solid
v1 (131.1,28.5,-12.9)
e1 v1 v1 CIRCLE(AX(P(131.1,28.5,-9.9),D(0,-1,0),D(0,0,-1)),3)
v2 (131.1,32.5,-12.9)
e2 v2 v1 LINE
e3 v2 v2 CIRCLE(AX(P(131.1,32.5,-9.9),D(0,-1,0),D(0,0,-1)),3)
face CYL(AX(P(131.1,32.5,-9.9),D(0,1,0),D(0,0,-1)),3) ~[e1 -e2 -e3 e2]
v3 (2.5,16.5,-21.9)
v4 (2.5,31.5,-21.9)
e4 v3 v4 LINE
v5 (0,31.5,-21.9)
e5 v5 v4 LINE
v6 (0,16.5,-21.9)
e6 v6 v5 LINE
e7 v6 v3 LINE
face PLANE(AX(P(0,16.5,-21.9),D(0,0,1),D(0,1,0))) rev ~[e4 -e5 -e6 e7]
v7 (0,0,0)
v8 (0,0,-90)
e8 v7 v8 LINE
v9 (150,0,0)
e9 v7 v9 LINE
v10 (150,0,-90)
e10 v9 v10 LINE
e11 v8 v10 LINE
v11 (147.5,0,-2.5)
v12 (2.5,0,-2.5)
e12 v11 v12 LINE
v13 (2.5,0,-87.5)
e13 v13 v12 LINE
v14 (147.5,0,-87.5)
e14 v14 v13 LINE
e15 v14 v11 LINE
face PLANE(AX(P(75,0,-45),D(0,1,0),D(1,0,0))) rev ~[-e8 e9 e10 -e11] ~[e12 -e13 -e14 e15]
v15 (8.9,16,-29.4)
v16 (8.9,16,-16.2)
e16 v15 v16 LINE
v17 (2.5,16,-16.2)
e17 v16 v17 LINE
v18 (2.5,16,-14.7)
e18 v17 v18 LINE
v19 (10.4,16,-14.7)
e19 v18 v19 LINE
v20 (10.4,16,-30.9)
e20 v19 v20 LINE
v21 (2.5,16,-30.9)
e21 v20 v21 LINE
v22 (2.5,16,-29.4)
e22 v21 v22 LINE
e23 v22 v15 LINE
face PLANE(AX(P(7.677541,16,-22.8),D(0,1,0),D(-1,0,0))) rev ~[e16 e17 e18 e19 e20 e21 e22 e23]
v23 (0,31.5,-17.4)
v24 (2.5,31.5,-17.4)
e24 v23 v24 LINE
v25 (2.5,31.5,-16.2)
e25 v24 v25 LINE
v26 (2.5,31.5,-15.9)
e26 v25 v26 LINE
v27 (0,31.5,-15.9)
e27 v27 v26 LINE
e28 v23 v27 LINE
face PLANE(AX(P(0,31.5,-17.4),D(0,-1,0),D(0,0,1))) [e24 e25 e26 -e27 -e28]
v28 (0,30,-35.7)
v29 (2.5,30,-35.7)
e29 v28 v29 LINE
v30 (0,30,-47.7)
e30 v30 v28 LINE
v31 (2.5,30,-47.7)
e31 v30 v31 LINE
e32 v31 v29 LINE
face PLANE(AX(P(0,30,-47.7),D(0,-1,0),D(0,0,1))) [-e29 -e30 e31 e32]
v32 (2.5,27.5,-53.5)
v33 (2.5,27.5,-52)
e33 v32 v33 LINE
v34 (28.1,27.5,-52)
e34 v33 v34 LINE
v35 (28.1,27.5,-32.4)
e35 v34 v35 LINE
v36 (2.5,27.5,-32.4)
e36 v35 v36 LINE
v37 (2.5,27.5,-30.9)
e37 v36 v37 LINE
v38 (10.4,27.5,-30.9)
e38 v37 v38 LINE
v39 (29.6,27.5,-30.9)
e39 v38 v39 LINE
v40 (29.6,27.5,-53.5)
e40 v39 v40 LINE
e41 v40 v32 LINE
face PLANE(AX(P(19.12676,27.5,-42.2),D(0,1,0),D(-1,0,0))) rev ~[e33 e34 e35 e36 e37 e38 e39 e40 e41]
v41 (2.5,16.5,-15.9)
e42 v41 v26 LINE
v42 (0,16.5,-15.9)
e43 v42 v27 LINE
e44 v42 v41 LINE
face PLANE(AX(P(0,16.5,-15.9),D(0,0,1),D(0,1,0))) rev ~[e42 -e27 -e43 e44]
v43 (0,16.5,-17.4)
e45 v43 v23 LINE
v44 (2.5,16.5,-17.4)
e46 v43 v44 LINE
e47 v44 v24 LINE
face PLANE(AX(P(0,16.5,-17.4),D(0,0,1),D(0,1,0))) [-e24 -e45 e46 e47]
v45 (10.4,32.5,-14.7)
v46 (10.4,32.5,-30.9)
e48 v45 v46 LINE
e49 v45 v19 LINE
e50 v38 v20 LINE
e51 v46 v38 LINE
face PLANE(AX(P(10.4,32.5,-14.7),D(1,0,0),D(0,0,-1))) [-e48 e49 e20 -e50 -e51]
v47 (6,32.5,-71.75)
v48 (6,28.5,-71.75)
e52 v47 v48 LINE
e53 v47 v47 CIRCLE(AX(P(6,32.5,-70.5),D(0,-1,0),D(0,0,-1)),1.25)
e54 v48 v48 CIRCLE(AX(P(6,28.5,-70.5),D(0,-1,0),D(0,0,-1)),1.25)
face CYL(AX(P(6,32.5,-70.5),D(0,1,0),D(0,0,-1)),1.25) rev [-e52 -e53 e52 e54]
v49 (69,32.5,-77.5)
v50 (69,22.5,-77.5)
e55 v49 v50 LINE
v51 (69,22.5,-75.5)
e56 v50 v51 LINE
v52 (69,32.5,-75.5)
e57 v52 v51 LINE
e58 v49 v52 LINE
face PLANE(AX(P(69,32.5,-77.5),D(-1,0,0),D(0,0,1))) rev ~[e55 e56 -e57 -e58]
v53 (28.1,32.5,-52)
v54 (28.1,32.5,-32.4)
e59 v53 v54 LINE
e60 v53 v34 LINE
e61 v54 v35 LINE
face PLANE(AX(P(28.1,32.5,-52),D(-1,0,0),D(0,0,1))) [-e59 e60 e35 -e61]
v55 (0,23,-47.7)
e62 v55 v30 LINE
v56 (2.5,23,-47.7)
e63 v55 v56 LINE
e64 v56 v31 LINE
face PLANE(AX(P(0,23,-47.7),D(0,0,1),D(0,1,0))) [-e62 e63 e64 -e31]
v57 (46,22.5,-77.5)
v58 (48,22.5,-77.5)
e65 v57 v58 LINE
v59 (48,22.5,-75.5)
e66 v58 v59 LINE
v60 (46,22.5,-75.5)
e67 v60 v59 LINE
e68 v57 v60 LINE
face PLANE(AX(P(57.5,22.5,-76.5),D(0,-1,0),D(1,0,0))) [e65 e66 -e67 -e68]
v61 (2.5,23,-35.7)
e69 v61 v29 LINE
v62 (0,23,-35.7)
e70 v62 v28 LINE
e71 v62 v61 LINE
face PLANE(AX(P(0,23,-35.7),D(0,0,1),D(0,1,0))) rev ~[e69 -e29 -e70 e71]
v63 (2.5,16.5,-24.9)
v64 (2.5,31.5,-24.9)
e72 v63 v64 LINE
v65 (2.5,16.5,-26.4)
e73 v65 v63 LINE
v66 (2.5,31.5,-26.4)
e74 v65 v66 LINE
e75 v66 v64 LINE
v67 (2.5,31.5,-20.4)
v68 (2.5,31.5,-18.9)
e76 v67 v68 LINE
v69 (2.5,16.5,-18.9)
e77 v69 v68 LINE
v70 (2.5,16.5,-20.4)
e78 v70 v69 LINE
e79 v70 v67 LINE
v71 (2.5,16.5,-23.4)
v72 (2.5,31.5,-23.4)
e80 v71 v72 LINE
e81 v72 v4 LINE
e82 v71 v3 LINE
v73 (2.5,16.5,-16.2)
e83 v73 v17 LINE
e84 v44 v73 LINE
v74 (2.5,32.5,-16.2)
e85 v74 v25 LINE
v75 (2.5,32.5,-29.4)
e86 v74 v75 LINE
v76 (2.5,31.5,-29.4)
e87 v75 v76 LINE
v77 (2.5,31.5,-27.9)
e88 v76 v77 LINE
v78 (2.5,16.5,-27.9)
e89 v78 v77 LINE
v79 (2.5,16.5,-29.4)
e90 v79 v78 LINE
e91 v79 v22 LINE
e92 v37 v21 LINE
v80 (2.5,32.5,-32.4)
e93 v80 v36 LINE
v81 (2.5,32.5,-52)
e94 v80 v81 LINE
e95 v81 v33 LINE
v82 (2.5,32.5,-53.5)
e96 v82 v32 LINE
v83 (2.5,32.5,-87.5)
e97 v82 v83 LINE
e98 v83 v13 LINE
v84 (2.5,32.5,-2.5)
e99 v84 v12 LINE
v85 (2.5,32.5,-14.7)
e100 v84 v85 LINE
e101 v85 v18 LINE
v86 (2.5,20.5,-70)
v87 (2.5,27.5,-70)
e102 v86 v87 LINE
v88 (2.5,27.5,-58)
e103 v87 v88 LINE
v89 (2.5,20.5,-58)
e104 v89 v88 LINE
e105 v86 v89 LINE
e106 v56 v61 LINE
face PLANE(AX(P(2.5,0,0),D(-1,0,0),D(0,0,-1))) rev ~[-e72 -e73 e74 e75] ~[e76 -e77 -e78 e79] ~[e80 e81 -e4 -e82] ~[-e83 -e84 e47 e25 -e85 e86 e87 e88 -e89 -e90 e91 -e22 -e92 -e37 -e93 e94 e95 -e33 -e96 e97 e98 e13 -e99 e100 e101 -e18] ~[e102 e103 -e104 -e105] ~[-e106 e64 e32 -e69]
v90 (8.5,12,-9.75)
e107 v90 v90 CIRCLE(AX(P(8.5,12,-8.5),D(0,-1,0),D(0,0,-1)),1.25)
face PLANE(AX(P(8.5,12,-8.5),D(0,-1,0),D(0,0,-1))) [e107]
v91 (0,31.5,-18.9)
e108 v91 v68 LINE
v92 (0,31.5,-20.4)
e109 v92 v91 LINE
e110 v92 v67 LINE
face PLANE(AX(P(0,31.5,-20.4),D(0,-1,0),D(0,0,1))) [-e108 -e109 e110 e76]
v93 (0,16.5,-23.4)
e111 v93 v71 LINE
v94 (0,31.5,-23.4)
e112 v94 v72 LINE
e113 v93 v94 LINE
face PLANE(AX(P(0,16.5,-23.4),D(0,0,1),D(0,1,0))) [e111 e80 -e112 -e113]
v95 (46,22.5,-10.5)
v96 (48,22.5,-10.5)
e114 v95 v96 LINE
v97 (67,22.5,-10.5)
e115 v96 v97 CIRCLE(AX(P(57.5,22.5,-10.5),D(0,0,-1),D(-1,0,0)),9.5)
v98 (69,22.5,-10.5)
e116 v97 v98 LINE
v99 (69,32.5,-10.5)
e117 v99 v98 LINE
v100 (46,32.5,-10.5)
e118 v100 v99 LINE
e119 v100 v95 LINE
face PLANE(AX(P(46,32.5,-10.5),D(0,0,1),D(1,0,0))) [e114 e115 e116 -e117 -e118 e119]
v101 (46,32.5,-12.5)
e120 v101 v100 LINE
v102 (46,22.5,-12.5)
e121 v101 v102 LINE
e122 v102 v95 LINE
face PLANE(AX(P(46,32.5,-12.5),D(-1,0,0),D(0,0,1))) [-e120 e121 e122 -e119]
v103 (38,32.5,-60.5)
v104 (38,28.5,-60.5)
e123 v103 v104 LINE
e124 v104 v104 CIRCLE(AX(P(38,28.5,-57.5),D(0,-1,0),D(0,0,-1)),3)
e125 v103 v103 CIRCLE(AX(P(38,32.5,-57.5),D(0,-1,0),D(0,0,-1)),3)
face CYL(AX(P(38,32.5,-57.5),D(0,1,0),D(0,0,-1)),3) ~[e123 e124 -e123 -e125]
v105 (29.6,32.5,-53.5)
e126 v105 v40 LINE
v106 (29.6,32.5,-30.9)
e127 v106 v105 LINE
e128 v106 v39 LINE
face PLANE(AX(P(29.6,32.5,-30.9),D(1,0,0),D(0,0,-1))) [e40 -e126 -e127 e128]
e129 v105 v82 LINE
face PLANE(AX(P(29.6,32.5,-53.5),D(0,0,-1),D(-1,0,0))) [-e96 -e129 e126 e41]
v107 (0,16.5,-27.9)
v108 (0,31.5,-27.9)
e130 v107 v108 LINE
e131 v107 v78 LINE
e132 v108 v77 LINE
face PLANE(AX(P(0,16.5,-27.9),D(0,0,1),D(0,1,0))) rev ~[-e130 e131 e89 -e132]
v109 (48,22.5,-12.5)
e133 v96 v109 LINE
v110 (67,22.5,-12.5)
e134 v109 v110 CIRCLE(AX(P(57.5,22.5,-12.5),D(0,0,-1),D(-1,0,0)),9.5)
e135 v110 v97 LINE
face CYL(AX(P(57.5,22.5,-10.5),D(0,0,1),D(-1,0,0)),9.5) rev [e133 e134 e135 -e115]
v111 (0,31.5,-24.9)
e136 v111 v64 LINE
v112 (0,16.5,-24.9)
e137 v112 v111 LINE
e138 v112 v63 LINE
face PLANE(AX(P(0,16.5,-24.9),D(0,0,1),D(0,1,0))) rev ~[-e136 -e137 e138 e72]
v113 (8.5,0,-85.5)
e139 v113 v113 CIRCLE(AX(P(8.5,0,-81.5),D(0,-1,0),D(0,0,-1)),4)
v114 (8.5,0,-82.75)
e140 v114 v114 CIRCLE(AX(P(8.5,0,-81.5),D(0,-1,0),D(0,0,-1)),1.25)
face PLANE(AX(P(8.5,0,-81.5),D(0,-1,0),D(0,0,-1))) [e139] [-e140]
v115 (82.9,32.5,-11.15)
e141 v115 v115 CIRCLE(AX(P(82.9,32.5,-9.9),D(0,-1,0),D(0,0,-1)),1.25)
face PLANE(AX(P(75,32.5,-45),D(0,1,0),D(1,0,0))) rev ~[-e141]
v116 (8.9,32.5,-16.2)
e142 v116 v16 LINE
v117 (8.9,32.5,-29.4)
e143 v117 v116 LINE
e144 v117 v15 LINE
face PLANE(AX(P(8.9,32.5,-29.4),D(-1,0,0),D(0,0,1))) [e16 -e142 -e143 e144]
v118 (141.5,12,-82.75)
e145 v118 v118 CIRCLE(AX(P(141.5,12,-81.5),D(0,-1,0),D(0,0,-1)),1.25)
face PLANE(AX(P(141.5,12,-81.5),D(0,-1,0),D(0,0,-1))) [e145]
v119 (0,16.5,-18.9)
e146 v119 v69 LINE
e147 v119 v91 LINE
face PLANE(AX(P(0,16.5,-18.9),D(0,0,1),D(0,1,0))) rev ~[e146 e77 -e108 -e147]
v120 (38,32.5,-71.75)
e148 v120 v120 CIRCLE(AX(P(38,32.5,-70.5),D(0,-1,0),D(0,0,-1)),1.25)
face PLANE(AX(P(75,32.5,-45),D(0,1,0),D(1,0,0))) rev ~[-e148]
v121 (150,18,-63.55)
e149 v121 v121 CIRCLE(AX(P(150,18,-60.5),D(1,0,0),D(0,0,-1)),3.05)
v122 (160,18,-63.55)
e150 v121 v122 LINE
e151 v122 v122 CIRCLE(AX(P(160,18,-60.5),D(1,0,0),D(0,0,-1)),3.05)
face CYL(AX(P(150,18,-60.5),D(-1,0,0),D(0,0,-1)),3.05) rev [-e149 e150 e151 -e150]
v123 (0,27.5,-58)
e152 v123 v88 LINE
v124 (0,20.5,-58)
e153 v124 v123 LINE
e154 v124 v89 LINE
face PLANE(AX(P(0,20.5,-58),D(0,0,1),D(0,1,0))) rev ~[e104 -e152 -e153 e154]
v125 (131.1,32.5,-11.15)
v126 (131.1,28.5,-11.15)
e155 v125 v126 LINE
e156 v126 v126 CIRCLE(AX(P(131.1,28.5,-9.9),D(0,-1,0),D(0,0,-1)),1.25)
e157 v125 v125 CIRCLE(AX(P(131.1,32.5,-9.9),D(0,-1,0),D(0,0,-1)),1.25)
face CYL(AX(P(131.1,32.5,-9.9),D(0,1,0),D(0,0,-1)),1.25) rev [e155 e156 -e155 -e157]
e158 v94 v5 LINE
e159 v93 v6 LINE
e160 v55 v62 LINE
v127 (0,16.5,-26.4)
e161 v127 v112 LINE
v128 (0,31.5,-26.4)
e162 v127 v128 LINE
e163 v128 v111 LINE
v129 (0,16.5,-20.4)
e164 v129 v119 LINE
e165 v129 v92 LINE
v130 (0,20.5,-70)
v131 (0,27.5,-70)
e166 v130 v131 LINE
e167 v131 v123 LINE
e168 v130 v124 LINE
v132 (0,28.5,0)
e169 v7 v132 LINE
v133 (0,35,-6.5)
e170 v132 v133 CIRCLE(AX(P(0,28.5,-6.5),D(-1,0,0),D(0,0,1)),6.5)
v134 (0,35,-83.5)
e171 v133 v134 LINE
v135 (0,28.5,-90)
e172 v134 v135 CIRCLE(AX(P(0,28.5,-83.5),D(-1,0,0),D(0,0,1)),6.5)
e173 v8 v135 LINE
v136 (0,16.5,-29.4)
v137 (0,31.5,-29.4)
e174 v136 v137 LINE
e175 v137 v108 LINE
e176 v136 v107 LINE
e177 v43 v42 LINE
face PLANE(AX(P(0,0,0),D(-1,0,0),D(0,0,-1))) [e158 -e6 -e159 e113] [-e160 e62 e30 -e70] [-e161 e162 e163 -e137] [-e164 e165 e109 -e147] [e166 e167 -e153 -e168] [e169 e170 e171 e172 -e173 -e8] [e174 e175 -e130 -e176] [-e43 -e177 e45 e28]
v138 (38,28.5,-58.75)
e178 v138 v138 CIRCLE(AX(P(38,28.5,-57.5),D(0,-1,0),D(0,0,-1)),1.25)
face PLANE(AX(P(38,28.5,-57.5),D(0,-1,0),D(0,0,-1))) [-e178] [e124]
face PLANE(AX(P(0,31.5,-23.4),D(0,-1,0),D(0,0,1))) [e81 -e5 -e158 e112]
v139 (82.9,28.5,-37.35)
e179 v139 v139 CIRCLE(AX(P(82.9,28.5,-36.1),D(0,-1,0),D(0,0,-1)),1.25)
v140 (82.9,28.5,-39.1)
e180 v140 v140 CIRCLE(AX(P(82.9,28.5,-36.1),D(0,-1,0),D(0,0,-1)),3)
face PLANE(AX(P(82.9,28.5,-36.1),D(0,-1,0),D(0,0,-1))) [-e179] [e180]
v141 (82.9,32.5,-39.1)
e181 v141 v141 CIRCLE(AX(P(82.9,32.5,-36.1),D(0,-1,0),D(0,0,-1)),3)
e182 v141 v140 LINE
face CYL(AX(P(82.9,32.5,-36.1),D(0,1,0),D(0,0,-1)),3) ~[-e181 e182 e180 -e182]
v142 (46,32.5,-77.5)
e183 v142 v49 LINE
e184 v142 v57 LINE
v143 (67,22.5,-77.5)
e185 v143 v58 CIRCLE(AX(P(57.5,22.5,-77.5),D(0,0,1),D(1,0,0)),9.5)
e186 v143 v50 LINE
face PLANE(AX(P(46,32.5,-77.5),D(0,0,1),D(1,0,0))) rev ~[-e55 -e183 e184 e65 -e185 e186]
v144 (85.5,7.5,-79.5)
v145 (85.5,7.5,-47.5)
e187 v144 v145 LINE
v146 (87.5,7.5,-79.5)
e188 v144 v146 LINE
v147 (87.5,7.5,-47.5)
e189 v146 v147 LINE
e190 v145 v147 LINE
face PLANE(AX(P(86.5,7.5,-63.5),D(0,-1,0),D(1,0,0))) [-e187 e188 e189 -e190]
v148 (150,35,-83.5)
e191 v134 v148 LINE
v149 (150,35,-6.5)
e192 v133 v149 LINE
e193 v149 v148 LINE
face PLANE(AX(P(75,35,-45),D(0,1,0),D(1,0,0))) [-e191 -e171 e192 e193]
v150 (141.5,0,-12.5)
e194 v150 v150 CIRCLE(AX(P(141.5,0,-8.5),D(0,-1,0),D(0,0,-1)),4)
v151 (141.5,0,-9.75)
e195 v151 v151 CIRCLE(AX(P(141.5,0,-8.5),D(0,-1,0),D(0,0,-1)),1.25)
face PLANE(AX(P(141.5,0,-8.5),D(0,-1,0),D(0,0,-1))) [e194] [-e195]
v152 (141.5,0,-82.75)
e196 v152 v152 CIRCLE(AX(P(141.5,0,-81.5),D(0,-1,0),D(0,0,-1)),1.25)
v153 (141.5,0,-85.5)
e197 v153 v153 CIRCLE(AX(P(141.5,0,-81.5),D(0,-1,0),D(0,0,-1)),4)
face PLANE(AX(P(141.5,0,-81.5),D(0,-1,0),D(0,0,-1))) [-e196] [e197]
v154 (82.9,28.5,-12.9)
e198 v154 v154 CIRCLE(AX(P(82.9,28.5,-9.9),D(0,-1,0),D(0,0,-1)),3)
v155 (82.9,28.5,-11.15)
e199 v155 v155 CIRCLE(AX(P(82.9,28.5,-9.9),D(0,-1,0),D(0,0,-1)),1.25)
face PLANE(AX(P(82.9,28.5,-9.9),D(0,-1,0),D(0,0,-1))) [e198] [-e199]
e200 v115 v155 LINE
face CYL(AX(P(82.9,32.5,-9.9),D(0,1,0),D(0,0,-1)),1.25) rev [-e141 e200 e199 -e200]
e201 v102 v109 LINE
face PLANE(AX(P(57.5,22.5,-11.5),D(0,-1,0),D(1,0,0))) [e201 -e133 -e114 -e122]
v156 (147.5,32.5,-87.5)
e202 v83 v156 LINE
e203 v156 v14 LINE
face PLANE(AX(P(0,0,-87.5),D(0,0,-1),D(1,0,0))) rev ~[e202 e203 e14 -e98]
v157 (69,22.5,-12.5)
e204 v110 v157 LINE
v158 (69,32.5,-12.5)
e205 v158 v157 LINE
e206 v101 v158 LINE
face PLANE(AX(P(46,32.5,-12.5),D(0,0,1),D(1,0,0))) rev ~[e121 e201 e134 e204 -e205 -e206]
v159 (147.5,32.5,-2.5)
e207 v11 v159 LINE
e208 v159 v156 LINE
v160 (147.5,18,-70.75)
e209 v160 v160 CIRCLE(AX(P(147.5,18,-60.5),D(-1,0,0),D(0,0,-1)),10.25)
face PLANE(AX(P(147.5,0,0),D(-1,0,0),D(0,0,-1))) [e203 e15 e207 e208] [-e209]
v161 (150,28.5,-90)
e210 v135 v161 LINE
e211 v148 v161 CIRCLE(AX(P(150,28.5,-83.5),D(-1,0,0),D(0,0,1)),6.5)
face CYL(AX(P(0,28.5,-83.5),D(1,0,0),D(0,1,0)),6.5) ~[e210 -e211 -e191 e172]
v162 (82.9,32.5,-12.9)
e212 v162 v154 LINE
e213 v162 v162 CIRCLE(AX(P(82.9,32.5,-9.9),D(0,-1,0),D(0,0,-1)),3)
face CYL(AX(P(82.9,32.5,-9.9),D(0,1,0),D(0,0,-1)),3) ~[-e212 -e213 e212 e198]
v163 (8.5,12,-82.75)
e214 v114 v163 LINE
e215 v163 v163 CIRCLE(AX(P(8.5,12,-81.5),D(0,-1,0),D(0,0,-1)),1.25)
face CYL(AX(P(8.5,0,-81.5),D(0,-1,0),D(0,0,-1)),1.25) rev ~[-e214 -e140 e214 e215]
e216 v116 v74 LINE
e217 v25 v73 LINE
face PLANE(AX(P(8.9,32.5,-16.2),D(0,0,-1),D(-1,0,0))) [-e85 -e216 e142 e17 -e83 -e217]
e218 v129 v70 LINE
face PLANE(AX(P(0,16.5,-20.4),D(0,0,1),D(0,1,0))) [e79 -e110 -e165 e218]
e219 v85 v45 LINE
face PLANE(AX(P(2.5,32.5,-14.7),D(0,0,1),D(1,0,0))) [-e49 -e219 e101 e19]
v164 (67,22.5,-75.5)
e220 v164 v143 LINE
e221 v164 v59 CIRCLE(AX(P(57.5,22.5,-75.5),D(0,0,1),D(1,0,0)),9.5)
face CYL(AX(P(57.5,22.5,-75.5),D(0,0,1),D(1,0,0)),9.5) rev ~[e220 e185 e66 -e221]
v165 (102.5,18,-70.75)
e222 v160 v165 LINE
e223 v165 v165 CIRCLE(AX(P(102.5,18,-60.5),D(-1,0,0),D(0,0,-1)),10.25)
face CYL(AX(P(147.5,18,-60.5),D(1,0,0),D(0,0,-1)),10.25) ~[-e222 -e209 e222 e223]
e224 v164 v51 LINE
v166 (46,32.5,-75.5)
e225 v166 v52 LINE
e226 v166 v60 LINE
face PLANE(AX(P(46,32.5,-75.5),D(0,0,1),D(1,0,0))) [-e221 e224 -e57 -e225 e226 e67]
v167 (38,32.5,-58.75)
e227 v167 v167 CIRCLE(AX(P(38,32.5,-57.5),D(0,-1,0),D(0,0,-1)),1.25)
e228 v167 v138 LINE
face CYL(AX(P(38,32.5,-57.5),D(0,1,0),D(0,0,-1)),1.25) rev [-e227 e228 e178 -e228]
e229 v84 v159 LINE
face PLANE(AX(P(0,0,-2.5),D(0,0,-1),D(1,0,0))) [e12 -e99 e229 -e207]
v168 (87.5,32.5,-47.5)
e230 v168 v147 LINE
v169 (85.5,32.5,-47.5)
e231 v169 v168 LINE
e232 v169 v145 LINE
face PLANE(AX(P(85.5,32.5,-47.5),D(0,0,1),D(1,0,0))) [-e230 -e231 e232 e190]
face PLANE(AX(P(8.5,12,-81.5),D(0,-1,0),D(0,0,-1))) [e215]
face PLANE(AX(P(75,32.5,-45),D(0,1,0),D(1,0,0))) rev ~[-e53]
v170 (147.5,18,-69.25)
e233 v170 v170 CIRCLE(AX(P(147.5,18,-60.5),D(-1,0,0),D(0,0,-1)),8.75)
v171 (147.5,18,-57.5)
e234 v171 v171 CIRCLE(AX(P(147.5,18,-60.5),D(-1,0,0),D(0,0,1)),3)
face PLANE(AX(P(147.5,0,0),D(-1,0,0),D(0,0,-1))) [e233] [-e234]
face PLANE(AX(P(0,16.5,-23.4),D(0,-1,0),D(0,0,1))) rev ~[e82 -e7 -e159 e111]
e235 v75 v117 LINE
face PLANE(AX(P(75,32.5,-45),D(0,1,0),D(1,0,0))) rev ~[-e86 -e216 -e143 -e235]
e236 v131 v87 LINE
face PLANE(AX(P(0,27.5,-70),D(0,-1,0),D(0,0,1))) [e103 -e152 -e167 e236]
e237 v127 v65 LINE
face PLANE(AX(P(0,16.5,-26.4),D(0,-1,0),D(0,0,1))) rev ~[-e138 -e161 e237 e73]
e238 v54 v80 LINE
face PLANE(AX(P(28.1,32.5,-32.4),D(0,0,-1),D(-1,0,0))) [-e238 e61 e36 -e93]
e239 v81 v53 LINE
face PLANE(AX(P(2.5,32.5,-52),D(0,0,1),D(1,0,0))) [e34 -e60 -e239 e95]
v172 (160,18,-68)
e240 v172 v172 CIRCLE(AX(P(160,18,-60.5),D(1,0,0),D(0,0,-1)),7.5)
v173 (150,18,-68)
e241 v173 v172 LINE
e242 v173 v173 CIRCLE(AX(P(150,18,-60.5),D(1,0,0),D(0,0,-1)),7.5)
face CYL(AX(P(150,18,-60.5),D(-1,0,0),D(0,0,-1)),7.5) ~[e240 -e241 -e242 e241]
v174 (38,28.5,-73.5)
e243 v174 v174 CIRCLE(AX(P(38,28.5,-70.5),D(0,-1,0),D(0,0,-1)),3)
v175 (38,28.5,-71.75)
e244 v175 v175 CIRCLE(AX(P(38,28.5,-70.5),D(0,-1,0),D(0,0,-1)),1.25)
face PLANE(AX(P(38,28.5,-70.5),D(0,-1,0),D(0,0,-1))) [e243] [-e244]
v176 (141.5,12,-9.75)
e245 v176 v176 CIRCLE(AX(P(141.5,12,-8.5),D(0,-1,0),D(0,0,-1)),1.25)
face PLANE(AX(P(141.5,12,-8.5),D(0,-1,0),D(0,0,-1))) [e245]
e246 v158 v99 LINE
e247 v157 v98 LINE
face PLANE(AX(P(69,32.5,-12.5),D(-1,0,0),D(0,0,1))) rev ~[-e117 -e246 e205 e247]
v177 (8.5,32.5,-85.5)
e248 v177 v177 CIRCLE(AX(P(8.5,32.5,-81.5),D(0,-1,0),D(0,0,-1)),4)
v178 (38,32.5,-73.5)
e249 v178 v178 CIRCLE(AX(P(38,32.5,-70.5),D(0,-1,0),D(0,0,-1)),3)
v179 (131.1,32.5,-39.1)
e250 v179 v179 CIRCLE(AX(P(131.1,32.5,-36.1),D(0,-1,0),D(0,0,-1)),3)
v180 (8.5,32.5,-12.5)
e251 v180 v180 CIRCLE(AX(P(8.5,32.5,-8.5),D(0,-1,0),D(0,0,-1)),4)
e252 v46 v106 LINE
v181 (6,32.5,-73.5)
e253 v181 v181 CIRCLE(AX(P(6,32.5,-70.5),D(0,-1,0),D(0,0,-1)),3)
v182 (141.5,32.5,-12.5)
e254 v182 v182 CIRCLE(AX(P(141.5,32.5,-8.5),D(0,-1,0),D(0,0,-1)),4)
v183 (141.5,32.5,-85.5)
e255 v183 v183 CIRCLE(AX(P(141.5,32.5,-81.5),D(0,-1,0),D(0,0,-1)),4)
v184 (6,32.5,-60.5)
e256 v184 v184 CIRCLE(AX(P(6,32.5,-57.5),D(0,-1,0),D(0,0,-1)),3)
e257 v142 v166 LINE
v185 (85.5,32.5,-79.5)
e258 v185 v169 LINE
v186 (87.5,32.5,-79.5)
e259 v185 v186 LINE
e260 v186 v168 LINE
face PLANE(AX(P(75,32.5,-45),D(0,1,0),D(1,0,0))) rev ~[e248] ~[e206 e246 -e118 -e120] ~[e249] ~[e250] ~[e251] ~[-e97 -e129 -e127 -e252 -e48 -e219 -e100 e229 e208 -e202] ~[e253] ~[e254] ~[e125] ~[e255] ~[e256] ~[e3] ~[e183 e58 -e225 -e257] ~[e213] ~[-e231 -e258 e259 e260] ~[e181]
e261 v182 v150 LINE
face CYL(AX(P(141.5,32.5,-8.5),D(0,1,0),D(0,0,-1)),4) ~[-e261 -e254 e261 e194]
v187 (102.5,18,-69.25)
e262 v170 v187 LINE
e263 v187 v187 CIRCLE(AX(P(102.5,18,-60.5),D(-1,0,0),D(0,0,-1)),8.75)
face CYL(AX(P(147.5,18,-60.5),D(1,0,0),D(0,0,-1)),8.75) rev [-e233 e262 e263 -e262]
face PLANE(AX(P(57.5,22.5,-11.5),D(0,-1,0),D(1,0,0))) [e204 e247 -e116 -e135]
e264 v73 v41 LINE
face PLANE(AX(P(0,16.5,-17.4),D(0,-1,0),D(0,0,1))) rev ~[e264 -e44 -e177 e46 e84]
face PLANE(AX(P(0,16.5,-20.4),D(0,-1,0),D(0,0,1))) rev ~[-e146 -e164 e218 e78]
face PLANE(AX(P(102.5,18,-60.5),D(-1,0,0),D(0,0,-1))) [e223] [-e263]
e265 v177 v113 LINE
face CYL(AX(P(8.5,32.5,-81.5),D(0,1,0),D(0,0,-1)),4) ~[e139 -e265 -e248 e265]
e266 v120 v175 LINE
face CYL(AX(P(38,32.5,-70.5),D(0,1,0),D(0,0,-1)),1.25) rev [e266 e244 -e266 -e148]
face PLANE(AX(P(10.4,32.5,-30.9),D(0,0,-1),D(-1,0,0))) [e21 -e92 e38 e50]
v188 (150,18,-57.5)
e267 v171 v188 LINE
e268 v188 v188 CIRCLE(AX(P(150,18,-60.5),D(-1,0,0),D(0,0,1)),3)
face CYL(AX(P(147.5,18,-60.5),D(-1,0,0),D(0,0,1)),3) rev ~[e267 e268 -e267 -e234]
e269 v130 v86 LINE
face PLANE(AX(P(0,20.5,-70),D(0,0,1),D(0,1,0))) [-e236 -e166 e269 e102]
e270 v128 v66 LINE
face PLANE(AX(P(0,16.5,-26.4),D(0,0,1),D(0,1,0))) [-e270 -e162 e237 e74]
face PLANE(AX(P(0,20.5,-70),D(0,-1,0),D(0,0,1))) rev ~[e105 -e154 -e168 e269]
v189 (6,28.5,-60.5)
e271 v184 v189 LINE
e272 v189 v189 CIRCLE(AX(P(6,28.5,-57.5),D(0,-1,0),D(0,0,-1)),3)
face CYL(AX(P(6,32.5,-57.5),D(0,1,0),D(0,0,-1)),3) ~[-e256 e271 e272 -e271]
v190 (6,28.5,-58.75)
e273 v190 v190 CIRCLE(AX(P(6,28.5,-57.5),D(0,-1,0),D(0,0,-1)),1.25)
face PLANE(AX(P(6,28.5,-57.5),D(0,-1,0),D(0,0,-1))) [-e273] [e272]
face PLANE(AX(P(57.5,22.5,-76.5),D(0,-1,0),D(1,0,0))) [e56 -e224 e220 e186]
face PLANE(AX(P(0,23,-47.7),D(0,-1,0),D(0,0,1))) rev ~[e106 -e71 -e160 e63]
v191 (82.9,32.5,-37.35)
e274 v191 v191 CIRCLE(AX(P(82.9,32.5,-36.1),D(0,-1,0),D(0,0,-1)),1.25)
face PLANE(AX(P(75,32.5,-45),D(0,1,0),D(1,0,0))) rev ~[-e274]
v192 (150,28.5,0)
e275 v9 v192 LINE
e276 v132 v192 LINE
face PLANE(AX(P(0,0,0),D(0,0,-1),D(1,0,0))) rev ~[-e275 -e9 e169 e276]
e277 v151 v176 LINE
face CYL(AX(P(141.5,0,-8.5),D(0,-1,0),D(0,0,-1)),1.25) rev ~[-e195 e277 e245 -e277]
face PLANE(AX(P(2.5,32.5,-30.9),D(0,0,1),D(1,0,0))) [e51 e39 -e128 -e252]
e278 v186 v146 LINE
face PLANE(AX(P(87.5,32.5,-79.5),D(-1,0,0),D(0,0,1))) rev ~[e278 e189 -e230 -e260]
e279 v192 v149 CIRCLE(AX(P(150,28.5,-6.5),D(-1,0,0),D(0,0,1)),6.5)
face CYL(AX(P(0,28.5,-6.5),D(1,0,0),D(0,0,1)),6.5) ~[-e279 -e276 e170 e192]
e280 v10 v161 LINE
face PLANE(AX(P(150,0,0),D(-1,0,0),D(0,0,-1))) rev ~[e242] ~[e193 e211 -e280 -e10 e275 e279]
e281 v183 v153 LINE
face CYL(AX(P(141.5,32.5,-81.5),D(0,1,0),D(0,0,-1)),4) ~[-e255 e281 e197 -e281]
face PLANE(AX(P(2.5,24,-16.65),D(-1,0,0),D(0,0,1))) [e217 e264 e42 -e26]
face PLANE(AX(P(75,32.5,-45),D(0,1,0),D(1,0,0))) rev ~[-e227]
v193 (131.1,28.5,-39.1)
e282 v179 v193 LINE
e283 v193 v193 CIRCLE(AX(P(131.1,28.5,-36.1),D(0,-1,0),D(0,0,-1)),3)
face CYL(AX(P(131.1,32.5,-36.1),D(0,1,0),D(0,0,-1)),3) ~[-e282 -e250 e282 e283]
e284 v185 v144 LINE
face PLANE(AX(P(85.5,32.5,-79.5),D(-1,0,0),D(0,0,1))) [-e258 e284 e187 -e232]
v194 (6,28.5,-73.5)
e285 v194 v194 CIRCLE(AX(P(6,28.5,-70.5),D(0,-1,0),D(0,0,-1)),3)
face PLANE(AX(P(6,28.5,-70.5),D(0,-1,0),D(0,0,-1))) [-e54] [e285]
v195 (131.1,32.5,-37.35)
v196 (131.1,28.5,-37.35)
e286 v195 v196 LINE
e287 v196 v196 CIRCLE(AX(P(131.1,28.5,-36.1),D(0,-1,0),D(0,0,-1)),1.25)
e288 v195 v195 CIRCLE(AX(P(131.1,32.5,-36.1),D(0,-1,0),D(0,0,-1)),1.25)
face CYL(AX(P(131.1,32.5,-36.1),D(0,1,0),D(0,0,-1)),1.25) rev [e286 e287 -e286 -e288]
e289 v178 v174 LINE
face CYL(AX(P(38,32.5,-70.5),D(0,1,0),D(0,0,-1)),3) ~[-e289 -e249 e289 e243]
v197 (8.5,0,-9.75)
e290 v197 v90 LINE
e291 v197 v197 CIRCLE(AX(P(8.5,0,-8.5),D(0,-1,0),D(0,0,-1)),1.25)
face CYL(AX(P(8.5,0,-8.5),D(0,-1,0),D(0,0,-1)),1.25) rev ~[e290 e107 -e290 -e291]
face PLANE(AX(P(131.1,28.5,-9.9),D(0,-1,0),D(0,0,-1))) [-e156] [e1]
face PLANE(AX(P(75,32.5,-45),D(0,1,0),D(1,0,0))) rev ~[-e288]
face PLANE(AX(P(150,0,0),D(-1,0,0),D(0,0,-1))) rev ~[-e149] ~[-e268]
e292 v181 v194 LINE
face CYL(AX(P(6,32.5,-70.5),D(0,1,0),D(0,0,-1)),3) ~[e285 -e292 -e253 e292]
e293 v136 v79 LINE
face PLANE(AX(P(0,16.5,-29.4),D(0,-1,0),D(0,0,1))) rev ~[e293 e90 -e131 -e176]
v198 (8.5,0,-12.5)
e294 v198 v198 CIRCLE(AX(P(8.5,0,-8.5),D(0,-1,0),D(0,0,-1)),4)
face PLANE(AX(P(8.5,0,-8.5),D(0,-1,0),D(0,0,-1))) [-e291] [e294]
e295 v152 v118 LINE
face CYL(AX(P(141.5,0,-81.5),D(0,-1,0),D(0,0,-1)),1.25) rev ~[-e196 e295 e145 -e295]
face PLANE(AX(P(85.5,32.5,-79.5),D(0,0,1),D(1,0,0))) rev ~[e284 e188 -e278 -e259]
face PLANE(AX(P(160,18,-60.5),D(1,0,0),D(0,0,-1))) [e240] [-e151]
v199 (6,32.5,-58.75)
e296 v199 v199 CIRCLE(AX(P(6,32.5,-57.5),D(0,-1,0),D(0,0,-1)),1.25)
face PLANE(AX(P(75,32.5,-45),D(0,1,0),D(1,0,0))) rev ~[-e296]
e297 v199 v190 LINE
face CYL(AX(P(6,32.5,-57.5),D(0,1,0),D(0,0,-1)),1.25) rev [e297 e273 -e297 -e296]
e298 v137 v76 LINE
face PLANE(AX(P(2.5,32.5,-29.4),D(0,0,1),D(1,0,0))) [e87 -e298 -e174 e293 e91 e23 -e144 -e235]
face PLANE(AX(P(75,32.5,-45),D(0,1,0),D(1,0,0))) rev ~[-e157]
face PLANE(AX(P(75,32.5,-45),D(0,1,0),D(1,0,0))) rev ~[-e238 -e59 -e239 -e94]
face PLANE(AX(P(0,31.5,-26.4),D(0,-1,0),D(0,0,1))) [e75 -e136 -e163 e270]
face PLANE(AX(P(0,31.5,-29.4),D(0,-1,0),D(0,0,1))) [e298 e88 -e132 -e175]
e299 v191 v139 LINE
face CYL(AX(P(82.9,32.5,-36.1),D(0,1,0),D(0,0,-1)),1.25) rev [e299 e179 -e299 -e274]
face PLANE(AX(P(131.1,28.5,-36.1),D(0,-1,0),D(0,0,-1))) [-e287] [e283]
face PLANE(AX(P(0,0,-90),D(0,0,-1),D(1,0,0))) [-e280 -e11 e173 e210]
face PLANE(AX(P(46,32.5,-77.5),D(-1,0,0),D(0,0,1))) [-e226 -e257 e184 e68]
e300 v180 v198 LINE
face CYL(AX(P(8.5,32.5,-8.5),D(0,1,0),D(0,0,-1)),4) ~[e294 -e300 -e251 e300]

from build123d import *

# Parameters (mm, degrees)
SKETCH1_W             = 150
SKETCH1_H             = 90
BOSS_EXTRUDE1_DEPTH   = 35
SHELL2_T              = -2.5
SKETCH5_R             = 4
BOSS_EXTRUDE8_DEPTH   = 32.5
SKETCH6_R             = 1.25
CUT_EXTRUDE1_DEPTH    = 12
SKETCH6_3_R           = 1.25
CUT_EXTRUDE2_DEPTH    = 12
FILLET1_R             = 6.5
FILLET2_R             = 6.5
SKETCH22_R            = 3
SKETCH22_R_2          = 1.25
ESP32_SCREWHOLE_DEPTH = 4
SKETCH25_R            = 3
SKETCH25_R_2          = 1.25
BOSS_EXTRUDE11_DEPTH  = 4
GUIDE_HW_DEPTH        = 5
BOSS_EXTRUDE13_DEPTH  = 16.5
SKETCH33_W            = 23
SKETCH33_H            = 2
BOSS_EXTRUDE14_DEPTH  = 10
SKETCH36_R            = 9.5
CUT_EXTRUDE8_DEPTH    = 2
CUT_EXTRUDE9_START    = -2
SKETCH37_R            = 9.5
CUT_EXTRUDE9_DEPTH    = 2
SKETCH38_R            = 7.5
SKETCH38_R_2          = 3.05
BOSS_EXTRUDE15_DEPTH  = 10
SKETCH40_W            = 1.5
SKETCH40_H            = 15
CUT_EXTRUDE10_DEPTH   = 2.5
SKETCH41_W            = 12
SKETCH41_H            = 7
CUT_EXTRUDE11_DEPTH   = 2.5
SKETCH42_W            = 12
SKETCH42_H            = 7
CUT_EXTRUDE12_DEPTH   = 2.5
SKETCH45_W            = 2
SKETCH45_H            = 32
BOSS_EXTRUDE16_DEPTH  = 25
SKETCH47_R            = 3
CUT_EXTRUDE13_DEPTH   = 2.5
SKETCH43_R            = 10.25
SKETCH43_R_2          = 8.75
BOSS_EXTRUDE18_DEPTH  = 45


with BuildPart() as part:
    # Sketch1 → Boss-Extrude1 (new body)
    with BuildSketch(Plane(origin=(0, 0, 0), x_dir=(1, 0, 0), z_dir=(0, 1, 0))):
        with Locations((75, 45)):
            Rectangle(SKETCH1_W, SKETCH1_H)
    extrude(amount=BOSS_EXTRUDE1_DEPTH)

    # Shell2
    shell2_openings = [part.faces().sort_by_distance(p)[0] for p in [
        (75, 0, -45),
    ]]
    offset(amount=SHELL2_T, openings=shell2_openings, kind=Kind.INTERSECTION)

    # Sketch5 → Boss-Extrude8 (add)
    with BuildSketch(Plane(origin=(0, 32.5, 0), x_dir=(-1, 0, 0), z_dir=(0, -1, 0))):
        with Locations((-8.5, 81.5)):
            Circle(SKETCH5_R)
        with Locations((-8.5, 8.5)):
            Circle(SKETCH5_R)
        with Locations((-141.5, 81.5)):
            Circle(SKETCH5_R)
        with Locations((-141.5, 8.5)):
            Circle(SKETCH5_R)
    extrude(amount=BOSS_EXTRUDE8_DEPTH)

    # Sketch6 → Cut-Extrude1 (cut)
    with BuildSketch(Plane.XZ):
        with Locations((8.5, -81.5)):
            Circle(SKETCH6_R)
    extrude(amount=-CUT_EXTRUDE1_DEPTH, mode=Mode.SUBTRACT)

    # Sketch6<3> → Cut-Extrude2 (cut)
    with BuildSketch(Plane.XZ):
        with Locations((141.5, -81.5)):
            Circle(SKETCH6_3_R)
        with Locations((141.5, -8.5)):
            Circle(SKETCH6_3_R)
        with Locations((8.5, -8.5)):
            Circle(SKETCH6_3_R)
    extrude(amount=-CUT_EXTRUDE2_DEPTH, mode=Mode.SUBTRACT)

    # Fillet1
    fillet1_edges = [part.edges().sort_by_distance(p)[0] for p in [
        (75, 35, 0),
    ]]
    fillet(fillet1_edges, radius=FILLET1_R)

    # Fillet2
    fillet2_edges = [part.edges().sort_by_distance(p)[0] for p in [
        (75, 35, -90),
    ]]
    fillet(fillet2_edges, radius=FILLET2_R)

    # Sketch22 → ESP32-screwhole (add)
    # profile 1 of 4: a face of its own
    with BuildSketch(Plane.XZ.offset(-32.5)):
        with Locations((82.9, -36.1)):
            Circle(SKETCH22_R)
        with Locations((82.9, -36.1)):
            Circle(SKETCH22_R_2, mode=Mode.SUBTRACT)
    # profile 2 of 4: a face of its own
    with BuildSketch(Plane.XZ.offset(-32.5)):
        with Locations((82.9, -9.9)):
            Circle(SKETCH22_R)
        with Locations((82.9, -9.9)):
            Circle(SKETCH22_R_2, mode=Mode.SUBTRACT)
    # profile 3 of 4: a face of its own
    with BuildSketch(Plane.XZ.offset(-32.5)):
        with Locations((131.1, -9.9)):
            Circle(SKETCH22_R)
        with Locations((131.1, -9.9)):
            Circle(SKETCH22_R_2, mode=Mode.SUBTRACT)
    # profile 4 of 4: a face of its own
    with BuildSketch(Plane.XZ.offset(-32.5)):
        with Locations((131.1, -36.1)):
            Circle(SKETCH22_R)
        with Locations((131.1, -36.1)):
            Circle(SKETCH22_R_2, mode=Mode.SUBTRACT)
    extrude(amount=ESP32_SCREWHOLE_DEPTH)

    # Sketch25 → Boss-Extrude11 (add)
    # profile 1 of 4: a face of its own
    with BuildSketch(Plane.XZ.offset(-32.5)):
        with Locations((6, -70.5)):
            Circle(SKETCH25_R)
        with Locations((6, -70.5)):
            Circle(SKETCH25_R_2, mode=Mode.SUBTRACT)
    # profile 2 of 4: a face of its own
    with BuildSketch(Plane.XZ.offset(-32.5)):
        with Locations((6, -57.5)):
            Circle(SKETCH25_R)
        with Locations((6, -57.5)):
            Circle(SKETCH25_R_2, mode=Mode.SUBTRACT)
    # profile 3 of 4: a face of its own
    with BuildSketch(Plane.XZ.offset(-32.5)):
        with Locations((38, -57.5)):
            Circle(SKETCH25_R)
        with Locations((38, -57.5)):
            Circle(SKETCH25_R_2, mode=Mode.SUBTRACT)
    # profile 4 of 4: a face of its own
    with BuildSketch(Plane.XZ.offset(-32.5)):
        with Locations((38, -70.5)):
            Circle(SKETCH25_R)
        with Locations((38, -70.5)):
            Circle(SKETCH25_R_2, mode=Mode.SUBTRACT)
    extrude(amount=BOSS_EXTRUDE11_DEPTH)

    # Sketch30 → guide HW (add)
    with BuildSketch(Plane.XZ.offset(-32.5)):
        Polygon((2.5, -52), (28.1, -52), (28.1, -32.4), (2.5, -32.4), (2.5, -30.9), (29.6, -30.9), (29.6, -53.5), (2.5, -53.5), align=None)
    extrude(amount=GUIDE_HW_DEPTH)

    # Sketch32 → Boss-Extrude13 (add)
    with BuildSketch(Plane.XZ.offset(-32.5)):
        Polygon((2.5, -29.4), (8.9, -29.4), (8.9, -16.2), (2.5, -16.2), (2.5, -14.7), (10.4, -14.7), (10.4, -30.9), (2.5, -30.9), align=None)
    extrude(amount=BOSS_EXTRUDE13_DEPTH)

    # Sketch33 → Boss-Extrude14 (add)
    with BuildSketch(Plane.XZ.offset(-32.5)):
        with Locations((57.5, -76.5)):
            Rectangle(SKETCH33_W, SKETCH33_H)
        with Locations((57.5, -11.5)):
            Rectangle(SKETCH33_W, SKETCH33_H)
    extrude(amount=BOSS_EXTRUDE14_DEPTH)

    # Sketch36 → Cut-Extrude8 (cut)
    with BuildSketch(Plane.XY.offset(-75.5)):
        with Locations((57.5, 22.5)):
            Circle(SKETCH36_R)
    extrude(amount=-CUT_EXTRUDE8_DEPTH, mode=Mode.SUBTRACT)

    # Sketch37 → Cut-Extrude9 (cut)
    with BuildSketch(Plane(origin=(0, 0, -12.5), x_dir=(-1, 0, 0), z_dir=(0, 0, -1)).offset(CUT_EXTRUDE9_START)):
        with Locations((-57.5, 22.5)):
            Circle(SKETCH37_R)
    extrude(amount=CUT_EXTRUDE9_DEPTH, mode=Mode.SUBTRACT)

    # Sketch38 → Boss-Extrude15 (add)
    with BuildSketch(Plane(origin=(150, 0, 0), x_dir=(0, 0, -1), z_dir=(1, 0, 0))):
        with Locations((60.5, 18)):
            Circle(SKETCH38_R)
        with Locations((60.5, 18)):
            Circle(SKETCH38_R_2, mode=Mode.SUBTRACT)
    extrude(amount=BOSS_EXTRUDE15_DEPTH)

    # Sketch40 → Cut-Extrude10 (cut)
    with BuildSketch(Plane.ZY):
        with Locations((-28.65, 24)):
            Rectangle(SKETCH40_W, SKETCH40_H)
        with Locations((-25.65, 24)):
            Rectangle(SKETCH40_W, SKETCH40_H)
        with Locations((-22.65, 24)):
            Rectangle(SKETCH40_W, SKETCH40_H)
        with Locations((-19.65, 24)):
            Rectangle(SKETCH40_W, SKETCH40_H)
        with Locations((-16.65, 24)):
            Rectangle(SKETCH40_W, SKETCH40_H)
    extrude(amount=-CUT_EXTRUDE10_DEPTH, mode=Mode.SUBTRACT)

    # Sketch41 → Cut-Extrude11 (cut)
    with BuildSketch(Plane.ZY):
        with Locations((-41.7, 26.5)):
            Rectangle(SKETCH41_W, SKETCH41_H)
    extrude(amount=-CUT_EXTRUDE11_DEPTH, mode=Mode.SUBTRACT)

    # Sketch42 → Cut-Extrude12 (cut)
    with BuildSketch(Plane.ZY):
        with Locations((-64, 24)):
            Rectangle(SKETCH42_W, SKETCH42_H)
    extrude(amount=-CUT_EXTRUDE12_DEPTH, mode=Mode.SUBTRACT)

    # Sketch45 → Boss-Extrude16 (add)
    with BuildSketch(Plane.XZ.offset(-32.5)):
        with Locations((86.5, -63.5)):
            Rectangle(SKETCH45_W, SKETCH45_H)
    extrude(amount=BOSS_EXTRUDE16_DEPTH)

    # Sketch47 → Cut-Extrude13 (cut)
    with BuildSketch(Plane.ZY.offset(-147.5)):
        with Locations((-60.5, 18)):
            Circle(SKETCH47_R)
    extrude(amount=-CUT_EXTRUDE13_DEPTH, mode=Mode.SUBTRACT)

    # Sketch43 → Boss-Extrude18 (add)
    with BuildSketch(Plane.ZY.offset(-147.5)):
        with Locations((-60.5, 18)):
            Circle(SKETCH43_R)
        with Locations((-60.5, 18)):
            Circle(SKETCH43_R_2, mode=Mode.SUBTRACT)
    extrude(amount=BOSS_EXTRUDE18_DEPTH)


solid = part.part
